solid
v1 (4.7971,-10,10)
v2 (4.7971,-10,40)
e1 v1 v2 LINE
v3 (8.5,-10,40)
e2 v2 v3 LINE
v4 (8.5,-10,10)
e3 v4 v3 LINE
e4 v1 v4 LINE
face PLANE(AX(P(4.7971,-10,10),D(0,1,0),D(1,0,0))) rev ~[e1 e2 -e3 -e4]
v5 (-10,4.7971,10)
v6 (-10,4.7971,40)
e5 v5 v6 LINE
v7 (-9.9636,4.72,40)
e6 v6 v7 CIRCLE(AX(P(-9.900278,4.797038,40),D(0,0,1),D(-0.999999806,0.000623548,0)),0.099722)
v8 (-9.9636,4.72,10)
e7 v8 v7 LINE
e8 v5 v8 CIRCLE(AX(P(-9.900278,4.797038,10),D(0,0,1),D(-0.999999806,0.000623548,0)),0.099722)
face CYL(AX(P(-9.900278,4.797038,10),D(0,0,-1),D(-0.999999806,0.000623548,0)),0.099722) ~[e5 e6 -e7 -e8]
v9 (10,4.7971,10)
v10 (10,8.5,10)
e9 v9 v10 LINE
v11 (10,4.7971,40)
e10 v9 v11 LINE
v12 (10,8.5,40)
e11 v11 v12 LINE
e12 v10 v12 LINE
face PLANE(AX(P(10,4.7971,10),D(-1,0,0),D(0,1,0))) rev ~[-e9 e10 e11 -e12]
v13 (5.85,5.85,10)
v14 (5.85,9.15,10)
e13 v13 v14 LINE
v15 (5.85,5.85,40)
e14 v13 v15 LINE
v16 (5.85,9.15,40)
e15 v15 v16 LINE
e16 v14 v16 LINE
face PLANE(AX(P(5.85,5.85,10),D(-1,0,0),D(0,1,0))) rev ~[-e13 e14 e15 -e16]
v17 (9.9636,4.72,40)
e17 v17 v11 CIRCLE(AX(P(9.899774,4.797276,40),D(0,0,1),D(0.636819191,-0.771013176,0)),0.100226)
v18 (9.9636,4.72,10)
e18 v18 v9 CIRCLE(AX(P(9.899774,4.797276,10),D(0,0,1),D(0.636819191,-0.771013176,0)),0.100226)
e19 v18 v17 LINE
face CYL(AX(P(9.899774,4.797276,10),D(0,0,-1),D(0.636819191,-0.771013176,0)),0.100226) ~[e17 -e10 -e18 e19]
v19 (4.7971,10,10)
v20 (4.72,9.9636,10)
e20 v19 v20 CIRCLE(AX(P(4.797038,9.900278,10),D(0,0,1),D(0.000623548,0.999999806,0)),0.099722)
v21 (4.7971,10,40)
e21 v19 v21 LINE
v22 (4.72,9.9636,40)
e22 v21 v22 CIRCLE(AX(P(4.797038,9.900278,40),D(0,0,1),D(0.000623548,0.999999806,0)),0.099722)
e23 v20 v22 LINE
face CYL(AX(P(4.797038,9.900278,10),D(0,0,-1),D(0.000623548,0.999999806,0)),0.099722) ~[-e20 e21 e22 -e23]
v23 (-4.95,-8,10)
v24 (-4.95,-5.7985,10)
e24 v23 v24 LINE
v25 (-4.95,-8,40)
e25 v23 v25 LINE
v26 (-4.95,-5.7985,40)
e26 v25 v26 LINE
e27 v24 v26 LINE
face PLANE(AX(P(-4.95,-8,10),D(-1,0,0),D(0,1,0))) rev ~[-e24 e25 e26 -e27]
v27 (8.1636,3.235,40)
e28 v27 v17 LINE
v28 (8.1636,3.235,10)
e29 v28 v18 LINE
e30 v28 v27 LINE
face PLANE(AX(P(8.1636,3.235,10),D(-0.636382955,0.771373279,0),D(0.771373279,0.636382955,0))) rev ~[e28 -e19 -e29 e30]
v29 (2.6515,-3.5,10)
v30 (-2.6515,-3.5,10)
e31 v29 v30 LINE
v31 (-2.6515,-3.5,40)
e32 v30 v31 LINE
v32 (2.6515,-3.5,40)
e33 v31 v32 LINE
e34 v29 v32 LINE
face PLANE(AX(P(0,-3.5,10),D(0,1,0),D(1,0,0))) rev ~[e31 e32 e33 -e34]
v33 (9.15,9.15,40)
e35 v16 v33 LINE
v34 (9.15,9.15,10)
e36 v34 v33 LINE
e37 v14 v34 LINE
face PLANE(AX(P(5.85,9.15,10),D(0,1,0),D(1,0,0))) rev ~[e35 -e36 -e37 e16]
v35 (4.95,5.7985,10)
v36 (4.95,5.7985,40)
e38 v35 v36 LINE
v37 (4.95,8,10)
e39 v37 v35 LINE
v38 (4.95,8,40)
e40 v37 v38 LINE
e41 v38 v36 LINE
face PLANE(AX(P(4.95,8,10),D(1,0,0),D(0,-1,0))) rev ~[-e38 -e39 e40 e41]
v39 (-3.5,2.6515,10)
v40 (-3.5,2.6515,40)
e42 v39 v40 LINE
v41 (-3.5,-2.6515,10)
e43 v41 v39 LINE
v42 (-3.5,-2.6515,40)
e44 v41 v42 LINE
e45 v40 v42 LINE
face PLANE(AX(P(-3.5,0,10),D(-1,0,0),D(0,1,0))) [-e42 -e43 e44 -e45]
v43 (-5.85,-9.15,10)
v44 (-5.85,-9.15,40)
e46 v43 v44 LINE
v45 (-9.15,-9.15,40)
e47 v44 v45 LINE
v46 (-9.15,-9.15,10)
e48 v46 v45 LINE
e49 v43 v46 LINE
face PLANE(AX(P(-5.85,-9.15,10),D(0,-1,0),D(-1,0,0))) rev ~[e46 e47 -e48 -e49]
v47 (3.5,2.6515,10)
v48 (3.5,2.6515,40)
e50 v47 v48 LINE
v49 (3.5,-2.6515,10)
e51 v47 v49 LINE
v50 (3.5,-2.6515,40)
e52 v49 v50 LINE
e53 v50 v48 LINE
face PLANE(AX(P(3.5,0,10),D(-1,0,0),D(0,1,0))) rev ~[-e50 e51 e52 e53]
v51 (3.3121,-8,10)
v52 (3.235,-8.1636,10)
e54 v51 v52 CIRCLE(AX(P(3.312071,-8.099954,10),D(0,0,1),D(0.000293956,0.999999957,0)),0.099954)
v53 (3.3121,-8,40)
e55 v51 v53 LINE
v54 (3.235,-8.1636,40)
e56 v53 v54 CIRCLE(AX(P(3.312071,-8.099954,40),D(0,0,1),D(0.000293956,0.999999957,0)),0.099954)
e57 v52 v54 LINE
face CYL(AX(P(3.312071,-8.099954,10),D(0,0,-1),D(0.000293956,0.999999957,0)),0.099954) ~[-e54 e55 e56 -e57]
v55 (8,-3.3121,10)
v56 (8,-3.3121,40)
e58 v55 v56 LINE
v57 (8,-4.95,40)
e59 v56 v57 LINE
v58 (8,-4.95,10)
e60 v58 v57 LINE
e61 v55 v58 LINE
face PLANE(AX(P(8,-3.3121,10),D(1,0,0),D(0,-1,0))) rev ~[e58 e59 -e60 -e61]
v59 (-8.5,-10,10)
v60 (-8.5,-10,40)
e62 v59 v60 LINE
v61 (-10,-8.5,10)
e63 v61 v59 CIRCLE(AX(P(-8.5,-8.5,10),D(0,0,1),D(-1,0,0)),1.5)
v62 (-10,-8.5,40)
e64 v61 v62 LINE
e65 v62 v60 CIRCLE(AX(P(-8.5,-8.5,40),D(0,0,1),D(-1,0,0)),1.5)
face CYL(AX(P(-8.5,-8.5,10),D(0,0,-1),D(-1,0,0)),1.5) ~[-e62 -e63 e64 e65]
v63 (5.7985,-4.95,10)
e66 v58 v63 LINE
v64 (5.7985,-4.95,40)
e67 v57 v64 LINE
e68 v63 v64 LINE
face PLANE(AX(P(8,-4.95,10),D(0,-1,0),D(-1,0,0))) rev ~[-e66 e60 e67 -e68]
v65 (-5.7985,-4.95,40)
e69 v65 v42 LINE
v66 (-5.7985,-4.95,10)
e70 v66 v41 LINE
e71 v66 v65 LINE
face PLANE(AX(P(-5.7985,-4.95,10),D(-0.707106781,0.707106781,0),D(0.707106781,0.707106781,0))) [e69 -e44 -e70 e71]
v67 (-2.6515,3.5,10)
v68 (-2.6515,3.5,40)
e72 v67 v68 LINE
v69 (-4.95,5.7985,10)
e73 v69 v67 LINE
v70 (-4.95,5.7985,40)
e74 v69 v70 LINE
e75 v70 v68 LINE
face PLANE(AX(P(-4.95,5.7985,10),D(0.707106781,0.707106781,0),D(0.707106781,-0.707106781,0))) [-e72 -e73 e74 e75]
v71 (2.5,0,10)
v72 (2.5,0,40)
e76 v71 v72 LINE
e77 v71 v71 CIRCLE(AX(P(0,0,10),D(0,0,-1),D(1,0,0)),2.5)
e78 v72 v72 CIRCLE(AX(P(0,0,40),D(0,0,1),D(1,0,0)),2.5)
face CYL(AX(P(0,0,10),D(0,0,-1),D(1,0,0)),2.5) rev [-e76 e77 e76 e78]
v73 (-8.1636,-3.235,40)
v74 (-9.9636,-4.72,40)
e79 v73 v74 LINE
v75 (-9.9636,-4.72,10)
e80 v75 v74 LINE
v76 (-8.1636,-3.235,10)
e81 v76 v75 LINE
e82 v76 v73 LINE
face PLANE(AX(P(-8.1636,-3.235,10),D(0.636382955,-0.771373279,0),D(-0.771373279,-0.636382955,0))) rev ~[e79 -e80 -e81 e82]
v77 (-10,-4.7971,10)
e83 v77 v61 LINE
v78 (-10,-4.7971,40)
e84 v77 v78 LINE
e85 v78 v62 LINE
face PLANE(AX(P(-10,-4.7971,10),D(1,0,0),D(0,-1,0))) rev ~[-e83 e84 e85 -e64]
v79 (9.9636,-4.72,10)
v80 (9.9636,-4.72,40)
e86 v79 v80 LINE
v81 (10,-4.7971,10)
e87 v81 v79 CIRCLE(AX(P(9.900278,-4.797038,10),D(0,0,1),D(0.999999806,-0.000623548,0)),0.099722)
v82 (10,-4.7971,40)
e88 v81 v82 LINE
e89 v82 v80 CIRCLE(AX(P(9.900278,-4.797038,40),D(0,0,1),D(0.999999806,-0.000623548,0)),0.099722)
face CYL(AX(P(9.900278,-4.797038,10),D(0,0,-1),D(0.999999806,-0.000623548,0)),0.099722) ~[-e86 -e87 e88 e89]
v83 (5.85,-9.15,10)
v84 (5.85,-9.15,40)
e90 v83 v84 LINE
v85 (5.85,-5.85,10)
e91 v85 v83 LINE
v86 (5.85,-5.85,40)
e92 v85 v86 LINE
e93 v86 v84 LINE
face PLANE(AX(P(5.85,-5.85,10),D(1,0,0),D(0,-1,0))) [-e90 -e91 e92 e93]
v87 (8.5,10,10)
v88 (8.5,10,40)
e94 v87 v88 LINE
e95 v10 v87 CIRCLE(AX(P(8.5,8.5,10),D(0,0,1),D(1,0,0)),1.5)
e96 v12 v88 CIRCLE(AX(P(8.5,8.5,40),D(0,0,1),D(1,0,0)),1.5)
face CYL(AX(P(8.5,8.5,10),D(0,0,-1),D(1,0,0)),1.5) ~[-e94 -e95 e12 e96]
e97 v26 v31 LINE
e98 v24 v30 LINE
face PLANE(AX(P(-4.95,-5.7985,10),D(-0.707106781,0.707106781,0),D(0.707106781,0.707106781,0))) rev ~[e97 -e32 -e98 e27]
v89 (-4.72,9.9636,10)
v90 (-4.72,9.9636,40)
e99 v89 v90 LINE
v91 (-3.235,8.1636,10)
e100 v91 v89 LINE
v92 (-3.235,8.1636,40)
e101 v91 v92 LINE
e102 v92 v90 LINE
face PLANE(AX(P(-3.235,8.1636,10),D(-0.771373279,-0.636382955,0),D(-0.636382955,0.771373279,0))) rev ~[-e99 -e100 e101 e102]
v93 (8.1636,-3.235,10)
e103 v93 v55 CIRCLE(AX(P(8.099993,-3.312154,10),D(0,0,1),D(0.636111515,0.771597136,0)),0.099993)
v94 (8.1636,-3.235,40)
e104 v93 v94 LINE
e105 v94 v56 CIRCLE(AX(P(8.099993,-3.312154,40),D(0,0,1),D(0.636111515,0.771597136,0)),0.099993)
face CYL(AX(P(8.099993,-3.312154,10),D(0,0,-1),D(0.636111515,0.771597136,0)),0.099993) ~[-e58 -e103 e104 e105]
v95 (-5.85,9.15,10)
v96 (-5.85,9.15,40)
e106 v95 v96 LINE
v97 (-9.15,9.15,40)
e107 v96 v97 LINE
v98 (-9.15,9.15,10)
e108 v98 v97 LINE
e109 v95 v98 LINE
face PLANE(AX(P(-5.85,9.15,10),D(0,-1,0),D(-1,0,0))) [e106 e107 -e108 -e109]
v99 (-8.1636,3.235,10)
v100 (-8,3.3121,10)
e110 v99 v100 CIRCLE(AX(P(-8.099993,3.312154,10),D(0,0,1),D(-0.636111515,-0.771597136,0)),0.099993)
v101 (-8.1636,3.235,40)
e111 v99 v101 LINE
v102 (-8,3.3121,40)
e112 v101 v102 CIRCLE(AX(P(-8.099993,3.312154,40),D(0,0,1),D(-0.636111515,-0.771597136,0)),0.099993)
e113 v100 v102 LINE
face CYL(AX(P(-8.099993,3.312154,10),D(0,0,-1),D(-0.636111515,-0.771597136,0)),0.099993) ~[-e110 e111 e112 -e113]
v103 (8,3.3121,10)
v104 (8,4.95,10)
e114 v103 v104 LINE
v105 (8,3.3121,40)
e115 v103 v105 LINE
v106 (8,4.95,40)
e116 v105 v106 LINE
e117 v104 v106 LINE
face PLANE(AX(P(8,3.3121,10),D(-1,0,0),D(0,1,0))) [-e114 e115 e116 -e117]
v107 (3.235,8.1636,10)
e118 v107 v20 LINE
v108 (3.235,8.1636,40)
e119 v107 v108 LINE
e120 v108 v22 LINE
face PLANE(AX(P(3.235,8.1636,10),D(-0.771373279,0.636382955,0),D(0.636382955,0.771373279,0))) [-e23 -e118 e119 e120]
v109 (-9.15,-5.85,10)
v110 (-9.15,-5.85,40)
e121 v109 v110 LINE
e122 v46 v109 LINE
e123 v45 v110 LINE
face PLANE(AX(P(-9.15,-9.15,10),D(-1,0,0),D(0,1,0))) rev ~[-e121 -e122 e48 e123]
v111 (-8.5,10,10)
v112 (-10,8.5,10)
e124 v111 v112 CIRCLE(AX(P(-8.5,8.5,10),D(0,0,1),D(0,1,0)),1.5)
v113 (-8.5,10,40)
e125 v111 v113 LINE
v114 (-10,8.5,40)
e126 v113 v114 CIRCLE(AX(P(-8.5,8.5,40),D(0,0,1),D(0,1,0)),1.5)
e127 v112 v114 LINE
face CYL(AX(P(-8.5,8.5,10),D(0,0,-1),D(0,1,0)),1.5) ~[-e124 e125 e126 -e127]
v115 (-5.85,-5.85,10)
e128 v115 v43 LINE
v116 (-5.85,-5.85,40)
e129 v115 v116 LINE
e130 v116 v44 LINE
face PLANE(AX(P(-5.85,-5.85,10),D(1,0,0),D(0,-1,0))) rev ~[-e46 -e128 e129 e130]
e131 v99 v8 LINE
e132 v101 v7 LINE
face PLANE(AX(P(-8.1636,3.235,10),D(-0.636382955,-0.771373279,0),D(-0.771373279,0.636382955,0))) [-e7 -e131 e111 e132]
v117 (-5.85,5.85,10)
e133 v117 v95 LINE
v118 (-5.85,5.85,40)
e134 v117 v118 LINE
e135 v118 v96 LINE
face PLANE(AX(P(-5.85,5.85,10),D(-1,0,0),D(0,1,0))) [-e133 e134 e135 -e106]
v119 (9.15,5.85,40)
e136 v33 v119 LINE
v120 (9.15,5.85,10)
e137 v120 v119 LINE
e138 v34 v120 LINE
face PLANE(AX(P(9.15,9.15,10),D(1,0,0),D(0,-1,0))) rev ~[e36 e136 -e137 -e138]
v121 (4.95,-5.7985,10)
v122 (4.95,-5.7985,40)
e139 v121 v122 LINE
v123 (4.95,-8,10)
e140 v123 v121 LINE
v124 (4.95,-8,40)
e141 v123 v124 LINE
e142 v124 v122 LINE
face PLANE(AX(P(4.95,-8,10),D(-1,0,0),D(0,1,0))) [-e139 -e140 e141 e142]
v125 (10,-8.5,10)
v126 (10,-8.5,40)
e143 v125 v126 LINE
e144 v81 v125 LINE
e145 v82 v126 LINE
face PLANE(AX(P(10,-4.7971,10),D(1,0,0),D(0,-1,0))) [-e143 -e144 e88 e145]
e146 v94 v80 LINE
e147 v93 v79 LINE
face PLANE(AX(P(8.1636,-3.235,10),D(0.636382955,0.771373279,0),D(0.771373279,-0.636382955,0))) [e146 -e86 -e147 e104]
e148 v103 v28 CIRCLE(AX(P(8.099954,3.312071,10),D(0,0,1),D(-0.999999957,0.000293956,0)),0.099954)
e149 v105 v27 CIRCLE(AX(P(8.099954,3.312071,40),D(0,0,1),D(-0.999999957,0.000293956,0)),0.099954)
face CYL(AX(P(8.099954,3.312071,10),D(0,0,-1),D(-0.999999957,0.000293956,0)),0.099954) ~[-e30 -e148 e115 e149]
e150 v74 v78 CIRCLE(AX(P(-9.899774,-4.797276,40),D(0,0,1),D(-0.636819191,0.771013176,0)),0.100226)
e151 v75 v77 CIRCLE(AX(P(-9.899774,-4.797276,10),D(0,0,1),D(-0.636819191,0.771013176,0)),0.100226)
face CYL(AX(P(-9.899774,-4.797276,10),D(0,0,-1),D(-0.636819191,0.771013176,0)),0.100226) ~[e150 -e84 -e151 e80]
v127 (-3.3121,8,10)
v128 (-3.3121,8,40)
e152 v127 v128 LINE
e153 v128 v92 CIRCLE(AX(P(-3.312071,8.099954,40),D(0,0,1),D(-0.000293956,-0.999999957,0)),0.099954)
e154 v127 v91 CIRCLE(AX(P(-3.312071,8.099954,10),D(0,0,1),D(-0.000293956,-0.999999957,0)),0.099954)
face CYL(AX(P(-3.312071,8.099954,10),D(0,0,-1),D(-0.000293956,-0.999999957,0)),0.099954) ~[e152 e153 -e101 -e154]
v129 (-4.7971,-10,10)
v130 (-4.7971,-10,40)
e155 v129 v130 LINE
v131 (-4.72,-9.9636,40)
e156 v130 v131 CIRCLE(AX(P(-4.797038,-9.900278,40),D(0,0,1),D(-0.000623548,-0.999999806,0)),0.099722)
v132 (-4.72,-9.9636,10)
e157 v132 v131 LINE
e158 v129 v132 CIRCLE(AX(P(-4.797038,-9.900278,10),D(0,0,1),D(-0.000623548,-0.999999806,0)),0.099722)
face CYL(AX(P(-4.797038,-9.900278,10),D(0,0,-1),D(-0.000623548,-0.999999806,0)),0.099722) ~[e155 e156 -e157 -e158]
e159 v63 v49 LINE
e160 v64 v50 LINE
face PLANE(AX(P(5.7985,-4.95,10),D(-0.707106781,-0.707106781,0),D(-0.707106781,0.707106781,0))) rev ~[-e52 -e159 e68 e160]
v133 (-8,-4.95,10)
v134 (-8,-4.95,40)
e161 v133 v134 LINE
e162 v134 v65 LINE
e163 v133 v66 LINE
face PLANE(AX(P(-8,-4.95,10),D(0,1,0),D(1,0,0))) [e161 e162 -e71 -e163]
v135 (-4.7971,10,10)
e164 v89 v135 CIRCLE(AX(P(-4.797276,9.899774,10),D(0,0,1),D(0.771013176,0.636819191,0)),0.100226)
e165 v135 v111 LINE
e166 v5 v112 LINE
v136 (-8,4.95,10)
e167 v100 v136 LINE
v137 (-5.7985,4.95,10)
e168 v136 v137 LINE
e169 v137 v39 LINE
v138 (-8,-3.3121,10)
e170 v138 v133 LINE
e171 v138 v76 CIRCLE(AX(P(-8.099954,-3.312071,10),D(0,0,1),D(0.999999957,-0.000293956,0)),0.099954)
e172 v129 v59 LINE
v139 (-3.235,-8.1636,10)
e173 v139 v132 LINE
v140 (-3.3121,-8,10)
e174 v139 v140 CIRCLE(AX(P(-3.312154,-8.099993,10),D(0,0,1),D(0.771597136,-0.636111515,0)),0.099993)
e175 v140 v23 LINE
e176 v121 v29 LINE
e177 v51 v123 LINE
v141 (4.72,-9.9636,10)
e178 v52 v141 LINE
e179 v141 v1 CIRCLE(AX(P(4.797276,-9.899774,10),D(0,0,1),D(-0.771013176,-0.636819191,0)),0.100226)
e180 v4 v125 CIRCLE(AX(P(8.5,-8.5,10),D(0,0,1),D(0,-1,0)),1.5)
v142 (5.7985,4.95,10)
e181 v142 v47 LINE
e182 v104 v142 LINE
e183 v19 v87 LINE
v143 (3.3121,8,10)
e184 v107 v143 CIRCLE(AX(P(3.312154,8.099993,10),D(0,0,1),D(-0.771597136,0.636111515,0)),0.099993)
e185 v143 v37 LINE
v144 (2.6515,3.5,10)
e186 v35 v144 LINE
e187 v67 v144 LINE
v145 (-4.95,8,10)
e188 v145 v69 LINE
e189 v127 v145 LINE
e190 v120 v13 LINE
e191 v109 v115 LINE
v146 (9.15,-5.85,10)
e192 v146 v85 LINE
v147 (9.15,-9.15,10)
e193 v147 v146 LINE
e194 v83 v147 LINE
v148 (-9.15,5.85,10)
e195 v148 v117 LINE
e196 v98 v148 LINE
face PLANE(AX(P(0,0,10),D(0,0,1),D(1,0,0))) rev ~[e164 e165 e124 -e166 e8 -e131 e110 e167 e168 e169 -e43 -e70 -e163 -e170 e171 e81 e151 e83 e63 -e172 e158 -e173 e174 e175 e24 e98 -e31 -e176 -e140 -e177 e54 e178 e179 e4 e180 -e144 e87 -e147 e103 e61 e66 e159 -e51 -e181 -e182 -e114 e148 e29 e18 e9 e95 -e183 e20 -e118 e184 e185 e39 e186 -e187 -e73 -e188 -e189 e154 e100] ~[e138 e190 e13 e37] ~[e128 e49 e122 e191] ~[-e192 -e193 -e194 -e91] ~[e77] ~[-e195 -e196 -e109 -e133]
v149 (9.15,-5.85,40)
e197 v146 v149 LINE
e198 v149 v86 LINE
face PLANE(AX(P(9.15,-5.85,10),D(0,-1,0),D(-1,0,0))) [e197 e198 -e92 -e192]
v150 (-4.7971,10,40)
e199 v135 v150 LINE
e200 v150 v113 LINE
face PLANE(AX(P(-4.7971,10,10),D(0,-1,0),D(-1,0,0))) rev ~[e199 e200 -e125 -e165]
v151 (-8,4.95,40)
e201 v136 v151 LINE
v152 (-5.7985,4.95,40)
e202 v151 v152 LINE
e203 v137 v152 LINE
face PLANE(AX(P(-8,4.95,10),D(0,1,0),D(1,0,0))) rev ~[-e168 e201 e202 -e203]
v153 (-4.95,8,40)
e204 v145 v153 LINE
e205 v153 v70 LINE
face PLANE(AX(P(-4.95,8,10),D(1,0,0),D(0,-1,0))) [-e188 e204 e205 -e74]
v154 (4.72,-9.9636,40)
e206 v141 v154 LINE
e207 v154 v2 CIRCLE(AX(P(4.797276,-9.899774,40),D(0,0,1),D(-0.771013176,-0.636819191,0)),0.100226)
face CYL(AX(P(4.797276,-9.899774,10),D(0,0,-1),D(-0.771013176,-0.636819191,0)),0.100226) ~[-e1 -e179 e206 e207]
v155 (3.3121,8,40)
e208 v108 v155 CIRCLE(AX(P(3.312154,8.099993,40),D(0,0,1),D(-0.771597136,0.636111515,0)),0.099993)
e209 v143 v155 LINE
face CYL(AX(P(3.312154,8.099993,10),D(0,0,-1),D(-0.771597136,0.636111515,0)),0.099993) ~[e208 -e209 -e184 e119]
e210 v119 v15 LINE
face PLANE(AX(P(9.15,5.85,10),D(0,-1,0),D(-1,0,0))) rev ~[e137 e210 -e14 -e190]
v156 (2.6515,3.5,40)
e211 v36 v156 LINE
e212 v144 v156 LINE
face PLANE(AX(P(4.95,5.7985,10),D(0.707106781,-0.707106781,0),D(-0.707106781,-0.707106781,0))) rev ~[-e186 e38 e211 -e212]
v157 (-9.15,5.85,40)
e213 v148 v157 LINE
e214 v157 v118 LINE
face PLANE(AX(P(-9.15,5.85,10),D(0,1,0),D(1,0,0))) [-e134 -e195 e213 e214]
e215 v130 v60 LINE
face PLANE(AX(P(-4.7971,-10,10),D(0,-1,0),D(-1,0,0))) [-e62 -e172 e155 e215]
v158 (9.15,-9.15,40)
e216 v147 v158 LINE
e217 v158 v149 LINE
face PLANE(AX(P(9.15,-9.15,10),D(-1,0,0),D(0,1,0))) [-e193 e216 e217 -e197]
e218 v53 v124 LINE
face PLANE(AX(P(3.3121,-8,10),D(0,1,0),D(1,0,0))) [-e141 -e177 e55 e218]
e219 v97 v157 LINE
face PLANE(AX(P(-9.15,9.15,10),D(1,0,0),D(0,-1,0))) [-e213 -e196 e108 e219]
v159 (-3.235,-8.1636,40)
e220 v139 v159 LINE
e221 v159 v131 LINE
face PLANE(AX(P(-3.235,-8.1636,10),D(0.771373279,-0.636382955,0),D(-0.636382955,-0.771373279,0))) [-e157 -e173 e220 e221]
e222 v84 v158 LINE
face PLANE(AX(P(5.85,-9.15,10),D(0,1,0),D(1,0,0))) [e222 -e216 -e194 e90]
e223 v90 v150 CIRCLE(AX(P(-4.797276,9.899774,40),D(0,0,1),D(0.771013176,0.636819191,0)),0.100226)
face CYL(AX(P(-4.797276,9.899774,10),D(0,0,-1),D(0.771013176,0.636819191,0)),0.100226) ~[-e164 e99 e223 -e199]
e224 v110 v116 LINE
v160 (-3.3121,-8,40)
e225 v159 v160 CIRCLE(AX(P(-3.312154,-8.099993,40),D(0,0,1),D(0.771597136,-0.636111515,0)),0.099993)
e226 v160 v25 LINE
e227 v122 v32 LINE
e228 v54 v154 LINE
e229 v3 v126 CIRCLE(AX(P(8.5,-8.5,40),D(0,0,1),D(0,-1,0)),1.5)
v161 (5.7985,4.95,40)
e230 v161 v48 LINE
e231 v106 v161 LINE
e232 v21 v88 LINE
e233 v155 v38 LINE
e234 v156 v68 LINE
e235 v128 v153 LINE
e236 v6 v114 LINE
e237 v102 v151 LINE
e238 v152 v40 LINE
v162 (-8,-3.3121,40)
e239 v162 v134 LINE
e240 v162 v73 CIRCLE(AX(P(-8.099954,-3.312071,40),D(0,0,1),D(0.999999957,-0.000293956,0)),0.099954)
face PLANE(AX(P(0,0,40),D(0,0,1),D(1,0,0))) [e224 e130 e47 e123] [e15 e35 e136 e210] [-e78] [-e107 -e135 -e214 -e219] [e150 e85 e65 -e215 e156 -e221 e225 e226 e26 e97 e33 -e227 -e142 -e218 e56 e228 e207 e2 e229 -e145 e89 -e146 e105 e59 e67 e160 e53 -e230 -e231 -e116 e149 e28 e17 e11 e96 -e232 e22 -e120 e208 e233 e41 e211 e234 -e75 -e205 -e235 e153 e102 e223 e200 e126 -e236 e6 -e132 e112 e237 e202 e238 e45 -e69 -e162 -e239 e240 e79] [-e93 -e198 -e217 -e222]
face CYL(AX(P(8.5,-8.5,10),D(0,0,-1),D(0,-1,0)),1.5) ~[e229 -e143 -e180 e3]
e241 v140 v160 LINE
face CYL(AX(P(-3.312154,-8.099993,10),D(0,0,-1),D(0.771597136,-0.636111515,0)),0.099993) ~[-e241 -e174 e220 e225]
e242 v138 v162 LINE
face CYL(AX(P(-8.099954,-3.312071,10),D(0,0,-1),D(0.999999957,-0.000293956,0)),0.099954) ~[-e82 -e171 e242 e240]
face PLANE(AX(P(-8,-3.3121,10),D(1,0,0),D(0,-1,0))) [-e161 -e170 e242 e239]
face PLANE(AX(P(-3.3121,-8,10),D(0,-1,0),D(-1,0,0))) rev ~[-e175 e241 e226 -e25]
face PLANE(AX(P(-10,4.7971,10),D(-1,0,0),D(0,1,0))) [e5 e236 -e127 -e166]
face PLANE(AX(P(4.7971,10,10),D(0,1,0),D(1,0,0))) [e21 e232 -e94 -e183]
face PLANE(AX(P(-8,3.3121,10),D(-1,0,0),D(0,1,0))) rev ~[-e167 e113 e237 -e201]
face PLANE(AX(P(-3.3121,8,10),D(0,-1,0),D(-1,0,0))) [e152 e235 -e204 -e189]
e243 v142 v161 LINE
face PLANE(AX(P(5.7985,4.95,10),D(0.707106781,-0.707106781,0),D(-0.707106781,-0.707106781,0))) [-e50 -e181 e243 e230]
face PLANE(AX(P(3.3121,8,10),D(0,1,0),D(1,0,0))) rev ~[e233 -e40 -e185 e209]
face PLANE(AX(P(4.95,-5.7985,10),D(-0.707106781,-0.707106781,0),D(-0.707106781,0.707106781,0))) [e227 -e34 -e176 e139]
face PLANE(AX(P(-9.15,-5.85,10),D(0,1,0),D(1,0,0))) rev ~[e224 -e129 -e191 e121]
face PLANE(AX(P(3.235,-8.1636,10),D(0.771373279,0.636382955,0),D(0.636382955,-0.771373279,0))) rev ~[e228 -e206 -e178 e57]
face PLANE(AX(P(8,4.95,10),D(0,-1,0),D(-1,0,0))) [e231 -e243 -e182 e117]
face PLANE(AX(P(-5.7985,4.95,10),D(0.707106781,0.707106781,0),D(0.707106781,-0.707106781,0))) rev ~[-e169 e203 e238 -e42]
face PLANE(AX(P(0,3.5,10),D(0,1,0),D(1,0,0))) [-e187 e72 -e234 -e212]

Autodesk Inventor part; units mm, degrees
ref_plane "Начальная плоскость" through (0, 0, 10) normal (0, 0, 1) x (1, 0, 0)
ref_plane "Конечная плоскость" through (0, 0, 40) normal (0, 0, 1) x (1, 0, 0)
sketch "Эскиз" plane through (0, 0, 0) normal (0, 0, 1) x (1, 0, 0)
  line L0 (-14.4349, 0) -> (14.4349, 0) projected
  line L1 (0, -14) -> (0, 14) projected
  line L2 (0, 0) -> (7.5, 7.5) construction
  circle A0 centre (7.5, 7.5) radius 1.65 construction
  line L3 (5.85, 9.15) -> (9.15, 9.15)
  line L4 (9.15, 9.15) -> (9.15, 5.85)
  line L5 (9.15, 5.85) -> (5.85, 5.85)
  line L6 (5.85, 5.85) -> (5.85, 9.15)
  line L7 (3.235, 8.1636) -> (4.72, 9.9636)
  line L8 (4.7971, 10) -> (8.5, 10)
  line L9 (3.3121, 8) -> (4.95, 8)
  line L10 (4.95, 8) -> (4.95, 5.7985)
  line L11 (4.95, 5.7985) -> (2.6515, 3.5)
  line L12 (0, 3.5) -> (2.6515, 3.5)
  circle A1 centre (0, 0) radius 2.5
  line L13 (8.1636, 3.235) -> (9.9636, 4.72)
  line L14 (10, 4.7971) -> (10, 8.5)
  line L15 (8, 3.3121) -> (8, 4.95)
  line L16 (8, 4.95) -> (5.7985, 4.95)
  line L17 (5.7985, 4.95) -> (3.5, 2.6515)
  line L18 (3.5, 0) -> (3.5, 2.6515)
  arc A2 (10, 8.5) -> (8.5, 10) centre (8.5, 8.5) ccw
  line L19 (0, 0) -> (-7.5, 7.5) construction
  circle A3 centre (-7.5, 7.5) radius 1.65 construction
  line L20 (-5.85, 9.15) -> (-9.15, 9.15)
  line L21 (-9.15, 9.15) -> (-9.15, 5.85)
  line L22 (-9.15, 5.85) -> (-5.85, 5.85)
  line L23 (-5.85, 5.85) -> (-5.85, 9.15)
  line L24 (-3.235, 8.1636) -> (-4.72, 9.9636)
  line L25 (-4.7971, 10) -> (-8.5, 10)
  line L26 (-3.3121, 8) -> (-4.95, 8)
  line L27 (-4.95, 8) -> (-4.95, 5.7985)
  line L28 (-4.95, 5.7985) -> (-2.6515, 3.5)
  line L29 (0, 3.5) -> (-2.6515, 3.5)
  line L30 (-3.5, 0) -> (-3.5, 2.6515)
  line L31 (-5.7985, 4.95) -> (-3.5, 2.6515)
  line L32 (-8, 4.95) -> (-5.7985, 4.95)
  line L33 (-8, 3.3121) -> (-8, 4.95)
  line L34 (-8.1636, 3.235) -> (-9.9636, 4.72)
  line L35 (-10, 4.7971) -> (-10, 8.5)
  arc A4 (-8.5, 10) -> (-10, 8.5) centre (-8.5, 8.5) ccw
  line L36 (0, 14) -> (0, -14)
  line L37 (0, 0) -> (7.5, -7.5) construction
  circle A5 centre (7.5, -7.5) radius 1.65 construction
  line L38 (5.85, -9.15) -> (9.15, -9.15)
  line L39 (9.15, -9.15) -> (9.15, -5.85)
  line L40 (9.15, -5.85) -> (5.85, -5.85)
  line L41 (5.85, -5.85) -> (5.85, -9.15)
  line L42 (3.235, -8.1636) -> (4.72, -9.9636)
  line L43 (4.7971, -10) -> (8.5, -10)
  line L44 (3.3121, -8) -> (4.95, -8)
  line L45 (4.95, -8) -> (4.95, -5.7985)
  line L46 (4.95, -5.7985) -> (2.6515, -3.5)
  line L47 (0, -3.5) -> (2.6515, -3.5)
  line L48 (3.5, 0) -> (3.5, -2.6515)
  line L49 (5.7985, -4.95) -> (3.5, -2.6515)
  line L50 (8, -4.95) -> (5.7985, -4.95)
  line L51 (8, -3.3121) -> (8, -4.95)
  line L52 (8.1636, -3.235) -> (9.9636, -4.72)
  line L53 (10, -4.7971) -> (10, -8.5)
  arc A6 (8.5, -10) -> (10, -8.5) centre (8.5, -8.5) ccw
  line L54 (0, 0) -> (-7.5, -7.5) construction
  line L55 (-4.95, -8) -> (-4.95, -5.7985)
  line L56 (-3.3121, -8) -> (-4.95, -8)
  line L57 (-5.7985, -4.95) -> (-3.5, -2.6515)
  line L58 (-4.95, -5.7985) -> (-2.6515, -3.5)
  line L59 (-3.5, 0) -> (-3.5, -2.6515)
  line L60 (0, -3.5) -> (-2.6515, -3.5)
  circle A7 centre (-7.5, -7.5) radius 1.65 construction
  line L61 (-5.85, -5.85) -> (-5.85, -9.15)
  line L62 (-5.85, -9.15) -> (-9.15, -9.15)
  line L63 (-9.15, -9.15) -> (-9.15, -5.85)
  line L64 (-9.15, -5.85) -> (-5.85, -5.85)
  line L65 (-3.235, -8.1636) -> (-4.72, -9.9636)
  line L66 (-8, -4.95) -> (-5.7985, -4.95)
  line L67 (-8, -3.3121) -> (-8, -4.95)
  line L68 (-8.1636, -3.235) -> (-9.9636, -4.72)
  line L69 (-4.7971, -10) -> (-8.5, -10)
  line L70 (-10, -4.7971) -> (-10, -8.5)
  arc A8 (-10, -8.5) -> (-8.5, -10) centre (-8.5, -8.5) ccw
  arc A9 (3.235, 8.1636) -> (3.3121, 8) centre (3.3121, 8.1) ccw
  arc A10 (4.7971, 10) -> (4.72, 9.9636) centre (4.7971, 9.9) ccw
  arc A11 (8, 3.3121) -> (8.1636, 3.235) centre (8.1, 3.3121) ccw
  arc A12 (9.9636, 4.72) -> (10, 4.7971) centre (9.9, 4.7971) ccw
  arc A13 (-3.3121, 8) -> (-3.235, 8.1636) centre (-3.3121, 8.1) ccw
  arc A14 (-4.72, 9.9636) -> (-4.7971, 10) centre (-4.7971, 9.9) ccw
  arc A15 (-8.1636, 3.235) -> (-8, 3.3121) centre (-8.1, 3.3121) ccw
  arc A16 (-10, 4.7971) -> (-9.9636, 4.72) centre (-9.9, 4.7971) ccw
  arc A17 (-8, -3.3121) -> (-8.1636, -3.235) centre (-8.1, -3.3121) ccw
  arc A18 (-9.9636, -4.72) -> (-10, -4.7971) centre (-9.9, -4.7971) ccw
  arc A19 (-3.235, -8.1636) -> (-3.3121, -8) centre (-3.3121, -8.1) ccw
  arc A20 (-4.7971, -10) -> (-4.72, -9.9636) centre (-4.7971, -9.9) ccw
  arc A21 (4.72, -9.9636) -> (4.7971, -10) centre (4.7971, -9.9) ccw
  arc A22 (3.3121, -8) -> (3.235, -8.1636) centre (3.3121, -8.1) ccw
  arc A23 (8.1636, -3.235) -> (8, -3.3121) centre (8.1, -3.3121) ccw
  arc A24 (10, -4.7971) -> (9.9636, -4.72) centre (9.9, -4.7971) ccw
  point P0 (3.1, 8)
  point P1 (4.75, 10)
  point P2 (7.5, 9.15)
  point P3 (8, 3.1)
  point P4 (10, 4.75)
  point P5 (7.5, 5.85)
  point P6 (9.15, 7.5)
  point P7 (-3.1, 8)
  point P8 (-4.75, 10)
  point P9 (-7.5, 9.15)
  point P10 (-8, 3.1)
  point P11 (-10, 4.75)
  point P12 (-7.5, 5.85)
  point P13 (-9.15, 7.5)
  point P14 (3.1, -8)
  point P15 (4.75, -10)
  point P16 (7.5, -9.15)
  point P17 (8, -3.1)
  point P18 (10, -4.75)
  point P19 (7.5, -5.85)
  point P20 (9.15, -7.5)
  point P21 (-3.1, -8)
  point P22 (-7.5, -5.85)
  point P23 (-7.5, -9.15)
  point P24 (-9.15, -7.5)
  point P25 (-4.75, -10)
  point P26 (-8, -3.1)
  point P27 (-10, -4.75)
  dimension "d0" = 45
  dimension "d1" = 3.3
  dimension "d2" = 1.5
  dimension "d3" = 1.2
  dimension "d4" = 5
  dimension "d5" = 6.5
  dimension "d6" = 15
  dimension "d7" = 20
  dimension "d8" = 9.9
  dimension "d9" = 9.5
  dimension "d10" = 6.2
  dimension "d11" = 2
  dimension "d18" = 0.1
  dimension "d19" = 0.1
extrude "Тело" add sketch "Эскиз" along normal up to surface (30 mm away) from surface at 10 contours A1 L1 L12 L11 L10 L9 A9 L7 A10 L8 A2 L14 A12 L13 A11 L15 L16 L17 L18 L0 | L0 L48 L49 L50 L51 A23 L52 A24 L53 A6 L43 A21 L42 A22 L44 L45 L46 L47 L1 A1 | A1 L0 L30 L31 L32 L33 A15 L34 A16 L35 A4 L25 A14 L24 A13 L26 L27 L28 L29 L1 | L1 L60 L58 L55 L56 A19 L65 A20 L69 A8 L70 A18 L68 A17 L67 L66 L57 L59 L0 A1
sketch "Эскиз2" plane through (0, 0, 0) normal (0, 0, 1) x (1, 0, 0)
  line L0 (0, 0) -> (10, 0)
ref_plane "РабПлоскость3" through (0, 0, 0) normal (0, -1, 0) x (1, 0, 0)
sketch "Эскиз3" plane through (0, 0, 0) normal (0, -1, 0) x (1, 0, 0)
  line L0 (-2, 10) -> (12, 10)
  line L1 (-2, 40) -> (12, 40)
  dimension "d25" = 30
ref_plane "РабПлоскость6" through (0, 0, 40) normal (0, 0, 1) x (1, 0, 0)
split "Разделение3" plane through (0, 0, 40) removes the side toward (0, 0, 1)
ref_plane "РабПлоскость7" through (0, 300, 10) normal (0, 0, -1) x (-1, 0, 0)
split "Разделение4" plane through (0, 300, 10) removes the side toward (0, 0, -1)
properties part number "короткая палка"
